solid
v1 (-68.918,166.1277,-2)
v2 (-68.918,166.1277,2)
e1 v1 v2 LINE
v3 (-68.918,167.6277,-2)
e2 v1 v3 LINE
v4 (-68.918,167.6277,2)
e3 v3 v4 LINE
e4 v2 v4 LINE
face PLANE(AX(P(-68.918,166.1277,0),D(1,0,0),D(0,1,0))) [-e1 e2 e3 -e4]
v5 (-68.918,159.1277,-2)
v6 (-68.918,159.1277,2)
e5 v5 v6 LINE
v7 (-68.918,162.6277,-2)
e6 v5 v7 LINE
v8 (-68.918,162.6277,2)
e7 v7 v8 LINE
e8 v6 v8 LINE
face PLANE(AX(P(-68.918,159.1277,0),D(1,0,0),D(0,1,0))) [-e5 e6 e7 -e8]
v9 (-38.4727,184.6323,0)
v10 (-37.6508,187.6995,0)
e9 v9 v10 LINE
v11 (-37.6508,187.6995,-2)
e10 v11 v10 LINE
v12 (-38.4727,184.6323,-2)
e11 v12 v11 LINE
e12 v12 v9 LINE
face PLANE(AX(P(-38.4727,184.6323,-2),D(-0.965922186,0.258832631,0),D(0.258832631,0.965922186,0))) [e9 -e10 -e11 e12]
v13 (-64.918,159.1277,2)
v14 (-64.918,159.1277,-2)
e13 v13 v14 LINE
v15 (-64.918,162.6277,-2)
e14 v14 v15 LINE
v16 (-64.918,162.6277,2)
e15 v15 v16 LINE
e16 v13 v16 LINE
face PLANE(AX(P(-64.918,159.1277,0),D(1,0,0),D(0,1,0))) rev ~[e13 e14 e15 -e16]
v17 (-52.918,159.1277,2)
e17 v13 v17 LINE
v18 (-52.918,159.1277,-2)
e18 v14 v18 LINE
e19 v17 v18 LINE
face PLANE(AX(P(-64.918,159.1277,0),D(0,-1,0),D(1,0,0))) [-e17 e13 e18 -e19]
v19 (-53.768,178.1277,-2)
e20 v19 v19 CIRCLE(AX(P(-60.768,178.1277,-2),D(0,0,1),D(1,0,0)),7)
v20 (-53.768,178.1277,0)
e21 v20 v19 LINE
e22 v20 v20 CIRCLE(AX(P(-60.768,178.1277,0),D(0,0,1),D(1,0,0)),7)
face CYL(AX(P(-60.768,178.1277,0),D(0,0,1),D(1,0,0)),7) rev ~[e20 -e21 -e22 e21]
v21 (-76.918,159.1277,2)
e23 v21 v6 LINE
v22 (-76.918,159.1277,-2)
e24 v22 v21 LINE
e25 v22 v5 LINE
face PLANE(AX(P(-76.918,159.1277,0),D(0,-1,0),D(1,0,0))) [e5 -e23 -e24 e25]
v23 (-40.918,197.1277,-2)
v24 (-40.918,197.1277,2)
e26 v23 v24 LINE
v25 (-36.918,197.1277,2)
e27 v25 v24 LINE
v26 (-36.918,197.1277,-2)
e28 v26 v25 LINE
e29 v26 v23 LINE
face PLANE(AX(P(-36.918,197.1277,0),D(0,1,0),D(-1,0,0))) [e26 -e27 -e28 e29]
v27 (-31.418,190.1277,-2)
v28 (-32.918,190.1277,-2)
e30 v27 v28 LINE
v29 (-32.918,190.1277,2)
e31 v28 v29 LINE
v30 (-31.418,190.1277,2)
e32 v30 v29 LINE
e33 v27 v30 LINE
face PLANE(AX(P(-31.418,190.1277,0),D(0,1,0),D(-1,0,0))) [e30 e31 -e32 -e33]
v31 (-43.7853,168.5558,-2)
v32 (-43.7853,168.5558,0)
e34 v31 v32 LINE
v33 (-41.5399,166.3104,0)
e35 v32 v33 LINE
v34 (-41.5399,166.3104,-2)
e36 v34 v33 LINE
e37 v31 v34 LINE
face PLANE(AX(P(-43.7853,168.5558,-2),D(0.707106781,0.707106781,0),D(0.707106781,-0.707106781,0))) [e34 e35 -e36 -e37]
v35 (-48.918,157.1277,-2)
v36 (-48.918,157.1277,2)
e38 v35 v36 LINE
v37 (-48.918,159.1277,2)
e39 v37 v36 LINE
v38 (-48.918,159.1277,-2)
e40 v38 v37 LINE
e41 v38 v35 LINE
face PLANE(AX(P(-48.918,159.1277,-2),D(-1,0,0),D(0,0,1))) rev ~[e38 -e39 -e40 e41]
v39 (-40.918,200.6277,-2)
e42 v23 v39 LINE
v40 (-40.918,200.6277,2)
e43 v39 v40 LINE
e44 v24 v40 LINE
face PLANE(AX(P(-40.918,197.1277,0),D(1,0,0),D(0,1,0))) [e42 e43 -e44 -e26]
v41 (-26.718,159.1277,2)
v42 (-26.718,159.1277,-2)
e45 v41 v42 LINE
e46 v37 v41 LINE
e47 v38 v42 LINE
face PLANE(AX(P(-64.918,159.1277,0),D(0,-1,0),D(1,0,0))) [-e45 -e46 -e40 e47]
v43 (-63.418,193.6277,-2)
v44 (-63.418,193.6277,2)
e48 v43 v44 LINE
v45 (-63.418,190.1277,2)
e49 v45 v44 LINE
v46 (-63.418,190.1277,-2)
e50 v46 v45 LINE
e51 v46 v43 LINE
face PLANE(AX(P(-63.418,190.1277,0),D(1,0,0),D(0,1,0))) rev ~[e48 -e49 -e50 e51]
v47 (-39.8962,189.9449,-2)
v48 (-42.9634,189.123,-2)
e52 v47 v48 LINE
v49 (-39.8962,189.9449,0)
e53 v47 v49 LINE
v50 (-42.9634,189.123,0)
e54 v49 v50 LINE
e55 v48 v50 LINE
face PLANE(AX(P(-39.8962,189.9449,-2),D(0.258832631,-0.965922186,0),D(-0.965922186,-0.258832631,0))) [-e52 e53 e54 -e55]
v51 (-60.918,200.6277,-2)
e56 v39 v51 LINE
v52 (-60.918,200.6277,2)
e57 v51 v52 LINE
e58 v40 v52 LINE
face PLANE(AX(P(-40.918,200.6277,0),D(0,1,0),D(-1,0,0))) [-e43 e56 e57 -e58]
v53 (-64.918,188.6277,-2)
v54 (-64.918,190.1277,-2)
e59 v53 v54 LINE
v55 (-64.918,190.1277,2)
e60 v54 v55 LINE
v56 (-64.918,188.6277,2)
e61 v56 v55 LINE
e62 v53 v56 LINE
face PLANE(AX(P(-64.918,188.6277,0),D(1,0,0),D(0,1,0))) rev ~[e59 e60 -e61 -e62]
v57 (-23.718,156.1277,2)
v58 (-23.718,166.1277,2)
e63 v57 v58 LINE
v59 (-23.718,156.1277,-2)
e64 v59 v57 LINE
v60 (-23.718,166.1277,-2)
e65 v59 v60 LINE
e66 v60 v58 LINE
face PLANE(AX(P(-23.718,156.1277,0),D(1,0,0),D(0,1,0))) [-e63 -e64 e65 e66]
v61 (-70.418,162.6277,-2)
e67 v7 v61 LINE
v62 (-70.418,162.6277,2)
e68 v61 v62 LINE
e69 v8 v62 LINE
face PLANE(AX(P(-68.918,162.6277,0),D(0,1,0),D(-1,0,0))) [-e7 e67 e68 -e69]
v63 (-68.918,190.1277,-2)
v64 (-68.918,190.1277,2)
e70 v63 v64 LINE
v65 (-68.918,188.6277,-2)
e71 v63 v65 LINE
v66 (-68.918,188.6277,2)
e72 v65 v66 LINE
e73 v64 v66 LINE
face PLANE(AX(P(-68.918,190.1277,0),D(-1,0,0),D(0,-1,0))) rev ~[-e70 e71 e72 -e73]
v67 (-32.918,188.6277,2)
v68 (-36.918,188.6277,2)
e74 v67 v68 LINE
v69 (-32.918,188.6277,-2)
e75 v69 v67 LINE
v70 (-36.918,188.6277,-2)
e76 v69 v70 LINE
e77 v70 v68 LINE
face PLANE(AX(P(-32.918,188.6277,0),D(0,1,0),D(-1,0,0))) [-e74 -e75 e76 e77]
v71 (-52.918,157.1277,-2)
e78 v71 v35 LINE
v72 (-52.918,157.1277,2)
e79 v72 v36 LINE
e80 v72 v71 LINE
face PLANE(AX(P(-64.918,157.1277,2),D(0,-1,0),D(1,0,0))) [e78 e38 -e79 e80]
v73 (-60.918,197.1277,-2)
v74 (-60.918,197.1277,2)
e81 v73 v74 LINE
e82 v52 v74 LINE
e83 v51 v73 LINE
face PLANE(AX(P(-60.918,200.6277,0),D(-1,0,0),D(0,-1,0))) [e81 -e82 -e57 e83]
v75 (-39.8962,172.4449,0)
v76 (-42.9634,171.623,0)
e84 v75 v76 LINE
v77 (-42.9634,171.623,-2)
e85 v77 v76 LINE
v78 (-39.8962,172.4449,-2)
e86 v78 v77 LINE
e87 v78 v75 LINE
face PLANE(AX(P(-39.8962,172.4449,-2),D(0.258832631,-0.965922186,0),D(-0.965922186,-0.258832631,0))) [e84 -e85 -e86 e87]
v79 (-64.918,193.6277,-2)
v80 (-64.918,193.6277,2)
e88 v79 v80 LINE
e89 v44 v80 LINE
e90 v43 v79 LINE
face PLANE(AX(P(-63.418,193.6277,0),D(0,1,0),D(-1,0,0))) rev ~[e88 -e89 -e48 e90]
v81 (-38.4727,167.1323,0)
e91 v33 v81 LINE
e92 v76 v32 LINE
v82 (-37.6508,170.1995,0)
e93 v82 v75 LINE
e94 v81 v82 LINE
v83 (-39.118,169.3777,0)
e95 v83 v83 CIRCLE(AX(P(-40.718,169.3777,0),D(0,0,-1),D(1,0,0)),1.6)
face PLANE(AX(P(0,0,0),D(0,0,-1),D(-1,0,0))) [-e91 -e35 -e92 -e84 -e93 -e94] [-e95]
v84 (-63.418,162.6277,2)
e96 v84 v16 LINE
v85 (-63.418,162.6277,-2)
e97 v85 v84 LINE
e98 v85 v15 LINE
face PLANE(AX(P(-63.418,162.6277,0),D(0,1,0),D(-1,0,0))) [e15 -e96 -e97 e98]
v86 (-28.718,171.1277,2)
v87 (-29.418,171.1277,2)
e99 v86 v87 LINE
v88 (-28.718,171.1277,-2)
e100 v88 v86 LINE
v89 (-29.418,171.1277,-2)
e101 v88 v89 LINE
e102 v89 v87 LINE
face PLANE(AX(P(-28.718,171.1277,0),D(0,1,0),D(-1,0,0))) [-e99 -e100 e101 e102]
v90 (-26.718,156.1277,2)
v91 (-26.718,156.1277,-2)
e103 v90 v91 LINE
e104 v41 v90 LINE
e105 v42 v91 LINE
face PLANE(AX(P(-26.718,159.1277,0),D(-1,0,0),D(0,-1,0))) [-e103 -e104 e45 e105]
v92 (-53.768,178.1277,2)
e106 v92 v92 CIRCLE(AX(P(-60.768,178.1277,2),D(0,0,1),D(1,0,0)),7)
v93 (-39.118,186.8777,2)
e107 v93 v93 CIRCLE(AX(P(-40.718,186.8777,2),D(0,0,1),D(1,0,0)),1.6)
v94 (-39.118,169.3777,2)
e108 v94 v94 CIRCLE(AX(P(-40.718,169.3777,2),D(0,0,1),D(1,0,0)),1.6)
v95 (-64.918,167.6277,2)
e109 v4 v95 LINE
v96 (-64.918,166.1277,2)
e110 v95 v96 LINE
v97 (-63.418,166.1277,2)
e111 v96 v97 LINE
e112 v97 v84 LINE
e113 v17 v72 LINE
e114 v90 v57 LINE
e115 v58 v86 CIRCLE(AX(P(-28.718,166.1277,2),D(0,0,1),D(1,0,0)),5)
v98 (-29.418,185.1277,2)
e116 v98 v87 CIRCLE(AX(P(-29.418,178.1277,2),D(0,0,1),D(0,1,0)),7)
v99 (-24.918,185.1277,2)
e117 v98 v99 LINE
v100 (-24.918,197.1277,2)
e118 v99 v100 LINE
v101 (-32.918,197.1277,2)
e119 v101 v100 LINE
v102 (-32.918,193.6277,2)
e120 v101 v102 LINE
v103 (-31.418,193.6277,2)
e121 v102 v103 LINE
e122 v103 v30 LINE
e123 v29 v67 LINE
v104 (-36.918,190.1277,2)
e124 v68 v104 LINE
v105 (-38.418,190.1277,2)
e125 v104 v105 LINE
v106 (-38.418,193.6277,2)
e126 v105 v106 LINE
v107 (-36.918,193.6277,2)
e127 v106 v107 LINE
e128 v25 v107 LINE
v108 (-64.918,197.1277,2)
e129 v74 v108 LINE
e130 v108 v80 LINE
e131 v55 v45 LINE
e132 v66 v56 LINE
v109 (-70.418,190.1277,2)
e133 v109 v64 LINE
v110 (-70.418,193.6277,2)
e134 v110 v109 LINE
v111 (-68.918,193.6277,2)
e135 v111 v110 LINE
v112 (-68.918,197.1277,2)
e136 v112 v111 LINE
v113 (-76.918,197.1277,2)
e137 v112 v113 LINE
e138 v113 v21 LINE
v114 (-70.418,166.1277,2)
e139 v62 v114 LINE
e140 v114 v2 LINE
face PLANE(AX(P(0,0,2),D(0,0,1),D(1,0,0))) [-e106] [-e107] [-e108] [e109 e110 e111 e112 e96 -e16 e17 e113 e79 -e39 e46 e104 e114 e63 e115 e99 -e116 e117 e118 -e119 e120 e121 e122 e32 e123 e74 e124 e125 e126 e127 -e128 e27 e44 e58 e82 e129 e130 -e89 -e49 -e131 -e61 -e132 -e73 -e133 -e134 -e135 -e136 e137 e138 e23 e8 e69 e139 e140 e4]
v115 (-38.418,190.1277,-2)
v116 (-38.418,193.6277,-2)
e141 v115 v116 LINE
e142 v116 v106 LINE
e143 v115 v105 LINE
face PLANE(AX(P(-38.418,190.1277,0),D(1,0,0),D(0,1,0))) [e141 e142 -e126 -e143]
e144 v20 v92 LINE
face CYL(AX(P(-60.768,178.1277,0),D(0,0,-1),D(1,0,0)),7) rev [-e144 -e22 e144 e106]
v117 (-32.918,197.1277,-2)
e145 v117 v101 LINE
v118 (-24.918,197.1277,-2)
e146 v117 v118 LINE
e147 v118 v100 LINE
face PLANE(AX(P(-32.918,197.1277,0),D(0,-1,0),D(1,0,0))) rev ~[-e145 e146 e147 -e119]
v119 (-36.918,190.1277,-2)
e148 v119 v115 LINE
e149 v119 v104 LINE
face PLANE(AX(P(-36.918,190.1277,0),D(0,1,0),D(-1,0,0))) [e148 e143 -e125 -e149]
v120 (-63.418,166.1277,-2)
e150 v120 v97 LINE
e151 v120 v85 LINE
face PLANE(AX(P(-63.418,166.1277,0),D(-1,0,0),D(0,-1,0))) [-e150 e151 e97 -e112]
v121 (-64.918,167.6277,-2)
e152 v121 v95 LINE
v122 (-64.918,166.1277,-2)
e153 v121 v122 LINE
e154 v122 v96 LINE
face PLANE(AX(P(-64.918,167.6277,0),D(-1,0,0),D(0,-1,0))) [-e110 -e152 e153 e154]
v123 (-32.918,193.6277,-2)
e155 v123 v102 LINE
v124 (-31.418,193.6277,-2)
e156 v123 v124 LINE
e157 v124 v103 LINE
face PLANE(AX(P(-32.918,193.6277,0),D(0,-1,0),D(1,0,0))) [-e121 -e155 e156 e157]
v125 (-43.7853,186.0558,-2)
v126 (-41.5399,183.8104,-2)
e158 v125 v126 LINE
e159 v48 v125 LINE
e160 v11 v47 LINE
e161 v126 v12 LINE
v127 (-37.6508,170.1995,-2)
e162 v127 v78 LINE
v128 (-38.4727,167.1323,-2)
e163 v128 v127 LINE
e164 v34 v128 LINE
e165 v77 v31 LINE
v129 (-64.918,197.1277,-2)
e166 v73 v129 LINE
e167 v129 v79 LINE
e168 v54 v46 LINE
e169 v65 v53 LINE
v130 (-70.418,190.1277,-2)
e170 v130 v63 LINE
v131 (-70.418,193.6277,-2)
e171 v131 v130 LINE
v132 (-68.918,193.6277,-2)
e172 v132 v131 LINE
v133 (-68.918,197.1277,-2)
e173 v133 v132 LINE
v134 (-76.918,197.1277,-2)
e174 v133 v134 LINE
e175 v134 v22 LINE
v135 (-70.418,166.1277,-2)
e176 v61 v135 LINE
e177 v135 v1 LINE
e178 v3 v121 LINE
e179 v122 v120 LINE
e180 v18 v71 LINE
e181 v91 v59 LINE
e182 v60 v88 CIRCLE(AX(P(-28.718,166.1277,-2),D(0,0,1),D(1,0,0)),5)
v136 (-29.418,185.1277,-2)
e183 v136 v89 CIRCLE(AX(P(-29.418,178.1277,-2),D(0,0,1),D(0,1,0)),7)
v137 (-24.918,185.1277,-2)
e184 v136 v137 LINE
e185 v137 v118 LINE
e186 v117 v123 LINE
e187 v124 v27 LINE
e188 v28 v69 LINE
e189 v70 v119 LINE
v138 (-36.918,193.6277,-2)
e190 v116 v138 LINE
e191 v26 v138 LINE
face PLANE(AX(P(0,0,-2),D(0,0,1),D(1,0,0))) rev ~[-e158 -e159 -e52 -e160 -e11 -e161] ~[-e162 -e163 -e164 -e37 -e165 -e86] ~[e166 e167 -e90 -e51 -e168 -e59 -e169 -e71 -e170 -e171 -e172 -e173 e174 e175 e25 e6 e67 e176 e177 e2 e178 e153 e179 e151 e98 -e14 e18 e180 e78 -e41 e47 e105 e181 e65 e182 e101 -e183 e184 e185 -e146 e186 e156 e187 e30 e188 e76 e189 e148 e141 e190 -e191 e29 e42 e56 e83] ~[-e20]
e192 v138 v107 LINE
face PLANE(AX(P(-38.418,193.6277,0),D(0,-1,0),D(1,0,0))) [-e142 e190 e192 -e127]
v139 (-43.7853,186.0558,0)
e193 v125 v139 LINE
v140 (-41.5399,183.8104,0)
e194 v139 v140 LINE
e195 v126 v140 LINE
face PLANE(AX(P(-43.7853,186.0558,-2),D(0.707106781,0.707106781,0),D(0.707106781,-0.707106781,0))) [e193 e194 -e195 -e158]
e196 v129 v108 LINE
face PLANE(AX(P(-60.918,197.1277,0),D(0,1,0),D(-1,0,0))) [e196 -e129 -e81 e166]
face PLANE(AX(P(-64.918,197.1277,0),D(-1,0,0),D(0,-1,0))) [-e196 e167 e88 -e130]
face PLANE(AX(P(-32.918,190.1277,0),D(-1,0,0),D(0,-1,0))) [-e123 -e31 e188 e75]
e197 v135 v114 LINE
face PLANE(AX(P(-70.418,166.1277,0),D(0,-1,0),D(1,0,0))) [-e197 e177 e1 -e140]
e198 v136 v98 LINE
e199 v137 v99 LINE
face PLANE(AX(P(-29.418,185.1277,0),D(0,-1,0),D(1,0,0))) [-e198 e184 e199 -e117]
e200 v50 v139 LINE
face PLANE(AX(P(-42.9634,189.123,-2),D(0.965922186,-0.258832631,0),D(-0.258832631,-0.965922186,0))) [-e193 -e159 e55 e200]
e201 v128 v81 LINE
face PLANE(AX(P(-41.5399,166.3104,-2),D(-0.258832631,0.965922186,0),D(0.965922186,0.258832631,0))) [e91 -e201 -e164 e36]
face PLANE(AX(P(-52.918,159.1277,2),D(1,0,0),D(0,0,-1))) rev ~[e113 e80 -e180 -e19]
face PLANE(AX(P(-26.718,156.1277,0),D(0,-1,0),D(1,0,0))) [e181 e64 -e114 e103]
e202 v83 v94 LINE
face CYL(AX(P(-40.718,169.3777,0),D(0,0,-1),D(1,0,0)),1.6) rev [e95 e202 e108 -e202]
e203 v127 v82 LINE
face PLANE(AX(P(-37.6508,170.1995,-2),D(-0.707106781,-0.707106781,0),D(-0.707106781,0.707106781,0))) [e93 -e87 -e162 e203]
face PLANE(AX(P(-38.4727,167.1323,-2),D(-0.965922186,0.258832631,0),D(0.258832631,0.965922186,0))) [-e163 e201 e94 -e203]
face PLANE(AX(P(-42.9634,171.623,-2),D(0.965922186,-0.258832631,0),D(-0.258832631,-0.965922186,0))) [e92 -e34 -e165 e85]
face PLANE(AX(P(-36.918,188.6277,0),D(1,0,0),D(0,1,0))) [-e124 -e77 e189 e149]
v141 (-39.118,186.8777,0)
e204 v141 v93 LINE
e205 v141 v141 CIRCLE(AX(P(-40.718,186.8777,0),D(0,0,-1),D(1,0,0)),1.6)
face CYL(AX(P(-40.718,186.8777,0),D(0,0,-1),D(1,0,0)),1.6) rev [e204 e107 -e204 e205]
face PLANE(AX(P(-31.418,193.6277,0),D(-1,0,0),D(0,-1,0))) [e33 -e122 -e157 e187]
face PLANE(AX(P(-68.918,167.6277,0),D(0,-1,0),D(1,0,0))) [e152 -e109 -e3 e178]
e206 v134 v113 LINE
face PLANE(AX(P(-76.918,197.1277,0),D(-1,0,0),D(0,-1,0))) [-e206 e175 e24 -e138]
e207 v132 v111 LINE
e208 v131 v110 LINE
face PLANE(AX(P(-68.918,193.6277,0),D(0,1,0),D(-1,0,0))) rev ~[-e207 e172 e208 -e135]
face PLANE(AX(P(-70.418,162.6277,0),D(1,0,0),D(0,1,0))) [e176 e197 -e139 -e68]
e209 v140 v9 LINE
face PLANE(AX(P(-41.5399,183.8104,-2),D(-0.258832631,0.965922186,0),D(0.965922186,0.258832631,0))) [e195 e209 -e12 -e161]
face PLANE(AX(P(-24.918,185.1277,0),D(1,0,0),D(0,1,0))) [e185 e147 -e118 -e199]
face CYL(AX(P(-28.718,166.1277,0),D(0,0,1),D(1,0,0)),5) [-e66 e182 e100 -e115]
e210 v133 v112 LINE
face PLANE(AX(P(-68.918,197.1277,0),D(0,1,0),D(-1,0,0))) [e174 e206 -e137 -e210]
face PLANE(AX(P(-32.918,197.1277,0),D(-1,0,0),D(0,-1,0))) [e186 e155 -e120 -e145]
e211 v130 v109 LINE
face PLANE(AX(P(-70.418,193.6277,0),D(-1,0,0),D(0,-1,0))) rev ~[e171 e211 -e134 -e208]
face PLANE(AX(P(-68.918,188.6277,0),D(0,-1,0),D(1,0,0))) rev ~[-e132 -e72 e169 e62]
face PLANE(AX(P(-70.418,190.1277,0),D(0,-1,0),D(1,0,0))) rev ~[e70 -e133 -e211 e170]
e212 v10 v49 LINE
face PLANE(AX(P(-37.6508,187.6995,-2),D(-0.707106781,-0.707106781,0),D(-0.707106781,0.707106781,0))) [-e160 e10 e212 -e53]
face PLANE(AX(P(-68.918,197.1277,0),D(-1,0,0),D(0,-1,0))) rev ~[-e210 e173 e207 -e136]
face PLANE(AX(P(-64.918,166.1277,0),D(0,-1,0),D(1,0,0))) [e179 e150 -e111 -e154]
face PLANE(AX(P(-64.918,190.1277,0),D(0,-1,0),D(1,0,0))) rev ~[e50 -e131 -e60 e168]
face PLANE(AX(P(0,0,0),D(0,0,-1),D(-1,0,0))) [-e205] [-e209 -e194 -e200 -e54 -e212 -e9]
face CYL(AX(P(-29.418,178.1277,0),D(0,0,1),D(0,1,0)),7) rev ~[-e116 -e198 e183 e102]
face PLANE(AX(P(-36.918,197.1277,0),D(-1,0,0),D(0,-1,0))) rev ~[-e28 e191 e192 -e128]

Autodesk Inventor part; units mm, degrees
ref_plane "YZ Plane" through (0, 0, 0) normal (1, 0, 0) x (0, 1, 0)
ref_plane "XZ Plane" through (0, 0, 0) normal (0, 1, 0) x (-1, 0, 0)
ref_plane "XY Plane" through (0, 0, 0) normal (0, 0, 1) x (1, 0, 0)
sketch "Skizze1" plane through (0, 0, 0) normal (0, 0, 1) x (1, 0, 0)
  circle A0 centre (-60.768, 178.1277) radius 7
  circle A1 centre (-40.718, 169.3777) radius 1.6
  circle A2 centre (-40.718, 186.8777) radius 1.6
  line L0 (-23.718, 156.1277) -> (-23.718, 166.1277)
  arc A3 (-23.718, 166.1277) -> (-28.718, 171.1277) centre (-28.718, 166.1277) ccw
  line L1 (-28.718, 171.1277) -> (-29.418, 171.1277)
  arc A4 (-29.418, 185.1277) -> (-29.418, 171.1277) centre (-29.418, 178.1277) ccw
  line L2 (-40.918, 197.1277) -> (-40.918, 200.6277)
  line L3 (-40.918, 200.6277) -> (-60.918, 200.6277)
  line L4 (-68.918, 197.1277) -> (-76.918, 197.1277)
  line L5 (-76.918, 197.1277) -> (-76.918, 159.1277)
  line L6 (-76.918, 159.1277) -> (-68.918, 159.1277)
  line L7 (-64.918, 159.1277) -> (-26.718, 159.1277)
  line L8 (-26.718, 159.1277) -> (-26.718, 156.1277)
  line L9 (-26.718, 156.1277) -> (-23.718, 156.1277)
  line L10 (-36.5327, 178.1277) -> (-67.768, 178.1277) construction
  line L11 (-40.718, 169.3777) -> (-40.718, 186.8777) construction
  line L12 (-32.918, 197.1277) -> (-32.918, 193.6277)
  line L13 (-32.918, 193.6277) -> (-31.418, 193.6277)
  line L14 (-31.418, 193.6277) -> (-31.418, 190.1277)
  line L15 (-31.418, 190.1277) -> (-32.918, 190.1277)
  line L16 (-32.918, 190.1277) -> (-32.918, 188.6277)
  line L17 (-32.918, 188.6277) -> (-36.918, 188.6277)
  line L18 (-36.918, 188.6277) -> (-36.918, 190.1277)
  line L19 (-36.918, 190.1277) -> (-38.418, 190.1277)
  line L20 (-38.418, 190.1277) -> (-38.418, 193.6277)
  line L21 (-38.418, 193.6277) -> (-36.918, 193.6277)
  line L22 (-36.918, 197.1277) -> (-36.918, 193.6277)
  line L23 (-34.918, 197.9429) -> (-34.918, 190.1833) construction
  line L24 (-32.918, 197.1277) -> (-24.918, 197.1277)
  line L25 (-50.918, 190.3199) -> (-50.918, 199.5586) construction
  line L26 (-68.918, 190.1277) -> (-68.918, 188.6277)
  line L27 (-66.918, 197.9429) -> (-66.918, 190.1833) construction
  line L28 (-64.918, 197.1277) -> (-64.918, 193.6277)
  line L29 (-68.918, 188.6277) -> (-64.918, 188.6277)
  line L30 (-63.418, 193.6277) -> (-64.918, 193.6277)
  line L31 (-63.418, 190.1277) -> (-63.418, 193.6277)
  line L32 (-64.918, 188.6277) -> (-64.918, 190.1277)
  line L33 (-64.918, 190.1277) -> (-63.418, 190.1277)
  line L34 (-70.418, 190.1277) -> (-68.918, 190.1277)
  line L35 (-68.918, 193.6277) -> (-70.418, 193.6277)
  line L36 (-70.418, 193.6277) -> (-70.418, 190.1277)
  line L37 (-68.918, 197.1277) -> (-68.918, 193.6277)
  line L38 (-29.418, 185.1277) -> (-24.918, 185.1277)
  line L39 (-24.918, 185.1277) -> (-24.918, 197.1277)
  line L40 (-60.918, 200.6277) -> (-60.918, 197.1277)
  line L41 (-36.918, 197.1277) -> (-40.918, 197.1277)
  line L42 (-60.918, 197.1277) -> (-64.918, 197.1277)
  line L43 (-68.918, 162.6277) -> (-70.418, 162.6277)
  line L44 (-70.418, 162.6277) -> (-70.418, 166.1277)
  line L45 (-70.418, 166.1277) -> (-68.918, 166.1277)
  line L46 (-68.918, 166.1277) -> (-68.918, 167.6277)
  line L47 (-68.918, 167.6277) -> (-64.918, 167.6277)
  line L48 (-64.918, 167.6277) -> (-64.918, 166.1277)
  line L49 (-64.918, 166.1277) -> (-63.418, 166.1277)
  line L50 (-63.418, 166.1277) -> (-63.418, 162.6277)
  line L51 (-63.418, 162.6277) -> (-64.918, 162.6277)
  line L52 (-64.918, 159.1277) -> (-64.918, 162.6277)
  line L53 (-68.918, 159.1277) -> (-68.918, 162.6277)
  circle A5 centre (-49.518, 178.1277) radius 1.95
  point P0 (0, 0)
  point P1 (-56.218, 159.1277)
  point P2 (-36.918, 159.1277)
  point P3 (-40.718, 178.1277)
  dimension "d51" = 14
  dimension "d4" = 14
  dimension "d5" = 3
  dimension "d7" = 5
  dimension "d8" = 7
  dimension "d9" = 4.3
  dimension "d27" = 32
  dimension "d28" = 10
  dimension "d31" = 10
  dimension "d33" = 20
  dimension "d34" = 3.5
  dimension "d37" = 4
  dimension "d38" = 7
  dimension "d39" = 3.5
  dimension "d40" = 3.5
  dimension "d41" = 1.5
  dimension "d42" = 5.8
  dimension "d43" = 22.5
  dimension "d45" = 3
  dimension "d49" = 11.25
  dimension "d50" = 3.9
extrude "Extrusion1" add sketch "Skizze1" along normal mid plane 4 contours L9 L8 L7 L52 L51 L50 L49 L48 L47 L46 L45 L44 L43 L53 L6 L5 L4 L37 L35 L36 L34 L26 L29 L32 L33 L31 L30 L28 L42 L40 L3 L2 L41 L22 L21 L20 L19 L18 L17 L16 L15 L14 L13 L12 L24 L39 L38 A4 L1 A3 L0 | A5
sketch "Skizze2" plane through (0, 0, -2) normal (0, 0, -1) x (-1, 0, 0)
  circle A0 centre (60.768, 178.1277) radius 7 projected
  circle A1 centre (40.718, 186.8777) radius 1.6 projected
  circle A2 centre (40.718, 169.3777) radius 1.6 projected
  line L0 (23.718, 166.1277) -> (23.718, 156.1277) projected
  line L1 (23.718, 156.1277) -> (26.718, 156.1277) projected
  line L2 (26.718, 156.1277) -> (26.718, 159.1277) projected
  line L3 (26.718, 159.1277) -> (64.918, 159.1277) projected
  line L4 (64.918, 159.1277) -> (64.918, 162.6277) projected
  line L5 (64.918, 162.6277) -> (63.418, 162.6277) projected
  line L6 (63.418, 162.6277) -> (63.418, 166.1277) projected
  line L7 (63.418, 166.1277) -> (64.918, 166.1277) projected
  line L8 (64.918, 166.1277) -> (64.918, 167.6277) projected
  line L9 (64.918, 167.6277) -> (68.918, 167.6277) projected
  line L10 (68.918, 167.6277) -> (68.918, 166.1277) projected
  line L11 (68.918, 166.1277) -> (70.418, 166.1277) projected
  line L12 (70.418, 166.1277) -> (70.418, 162.6277) projected
  line L13 (70.418, 162.6277) -> (68.918, 162.6277) projected
  line L14 (68.918, 162.6277) -> (68.918, 159.1277) projected
  line L15 (68.918, 159.1277) -> (76.918, 159.1277) projected
  line L16 (76.918, 159.1277) -> (76.918, 197.1277) projected
  line L17 (76.918, 197.1277) -> (68.918, 197.1277) projected
  line L18 (68.918, 197.1277) -> (68.918, 193.6277) projected
  line L19 (68.918, 193.6277) -> (70.418, 193.6277) projected
  line L20 (70.418, 193.6277) -> (70.418, 190.1277) projected
  line L21 (70.418, 190.1277) -> (68.918, 190.1277) projected
  line L22 (68.918, 190.1277) -> (68.918, 188.6277) projected
  line L23 (68.918, 188.6277) -> (64.918, 188.6277) projected
  line L24 (64.918, 188.6277) -> (64.918, 190.1277) projected
  line L25 (64.918, 190.1277) -> (63.418, 190.1277) projected
  line L26 (63.418, 190.1277) -> (63.418, 193.6277) projected
  line L27 (63.418, 193.6277) -> (64.918, 193.6277) projected
  line L28 (64.918, 193.6277) -> (64.918, 197.1277) projected
  line L29 (64.918, 197.1277) -> (60.918, 197.1277) projected
  line L30 (60.918, 197.1277) -> (60.918, 200.6277) projected
  line L31 (60.918, 200.6277) -> (40.918, 200.6277) projected
  line L32 (40.918, 200.6277) -> (40.918, 197.1277) projected
  line L33 (40.918, 197.1277) -> (36.918, 197.1277) projected
  line L34 (36.918, 197.1277) -> (36.918, 193.6277) projected
  line L35 (36.918, 193.6277) -> (38.418, 193.6277) projected
  line L36 (38.418, 193.6277) -> (38.418, 190.1277) projected
  line L37 (38.418, 190.1277) -> (36.918, 190.1277) projected
  line L38 (36.918, 190.1277) -> (36.918, 188.6277) projected
  line L39 (36.918, 188.6277) -> (32.918, 188.6277) projected
  line L40 (32.918, 188.6277) -> (32.918, 190.1277) projected
  line L41 (32.918, 190.1277) -> (31.418, 190.1277) projected
  line L42 (31.418, 190.1277) -> (31.418, 193.6277) projected
  line L43 (31.418, 193.6277) -> (32.918, 193.6277) projected
  line L44 (32.918, 193.6277) -> (32.918, 197.1277) projected
  line L45 (32.918, 197.1277) -> (24.918, 197.1277) projected
  line L46 (24.918, 197.1277) -> (24.918, 185.1277) projected
  line L47 (24.918, 185.1277) -> (29.418, 185.1277) projected
  arc A3 (29.418, 171.1277) -> (29.418, 185.1277) centre (29.418, 178.1277) ccw projected
  line L48 (29.418, 171.1277) -> (28.718, 171.1277) projected
  arc A4 (28.718, 171.1277) -> (23.718, 166.1277) centre (28.718, 166.1277) ccw projected
  circle A5 centre (40.718, 169.3777) radius 1.6 projected
  line L49 (42.9634, 171.623) -> (43.7853, 168.5558)
  line L50 (43.7853, 168.5558) -> (41.5399, 166.3104)
  line L51 (41.5399, 166.3104) -> (38.4727, 167.1323)
  line L52 (38.4727, 167.1323) -> (37.6508, 170.1995)
  line L53 (37.6508, 170.1995) -> (39.8962, 172.4449)
  line L54 (39.8962, 172.4449) -> (42.9634, 171.623)
  line L55 (42.9634, 189.123) -> (43.7853, 186.0558)
  line L56 (43.7853, 186.0558) -> (41.5399, 183.8104)
  line L57 (41.5399, 183.8104) -> (38.4727, 184.6323)
  line L58 (38.4727, 184.6323) -> (37.6508, 187.6995)
  line L59 (37.6508, 187.6995) -> (39.8962, 189.9449)
  line L60 (39.8962, 189.9449) -> (42.9634, 189.123)
  line L61 (38.418, 190.1277) -> (36.918, 188.6277) construction
  point P0 (0, 0)
  dimension "d52" = 5.5
extrude "Extrusion2" cut sketch "Skizze2" against normal blind 2 contours L49 L50 L51 L52 L53 L54 | L55 L56 L57 L58 L59 L60
sketch "Skizze3" plane through (-64.918, 159.1277, 2) normal (0, -1, 0) x (1, 0, 0)
  line L0 (0, 0) -> (38.2, 0) projected
  line L1 (12, -4) -> (16, -4)
  line L2 (16, -4) -> (16, 0)
  line L3 (16, 0) -> (12, 0)
  line L4 (12, 0) -> (12, -4)
  line L5 (-12, -4) -> (-12, 0) projected
  point P0 (64.918, -2)
  point P1 (-2, -2)
  dimension "d55" = 4
  dimension "d57" = 24
extrude "Extrusion3" add sketch "Skizze3" along normal blind 2
properties part number "Motorhalter_links"
